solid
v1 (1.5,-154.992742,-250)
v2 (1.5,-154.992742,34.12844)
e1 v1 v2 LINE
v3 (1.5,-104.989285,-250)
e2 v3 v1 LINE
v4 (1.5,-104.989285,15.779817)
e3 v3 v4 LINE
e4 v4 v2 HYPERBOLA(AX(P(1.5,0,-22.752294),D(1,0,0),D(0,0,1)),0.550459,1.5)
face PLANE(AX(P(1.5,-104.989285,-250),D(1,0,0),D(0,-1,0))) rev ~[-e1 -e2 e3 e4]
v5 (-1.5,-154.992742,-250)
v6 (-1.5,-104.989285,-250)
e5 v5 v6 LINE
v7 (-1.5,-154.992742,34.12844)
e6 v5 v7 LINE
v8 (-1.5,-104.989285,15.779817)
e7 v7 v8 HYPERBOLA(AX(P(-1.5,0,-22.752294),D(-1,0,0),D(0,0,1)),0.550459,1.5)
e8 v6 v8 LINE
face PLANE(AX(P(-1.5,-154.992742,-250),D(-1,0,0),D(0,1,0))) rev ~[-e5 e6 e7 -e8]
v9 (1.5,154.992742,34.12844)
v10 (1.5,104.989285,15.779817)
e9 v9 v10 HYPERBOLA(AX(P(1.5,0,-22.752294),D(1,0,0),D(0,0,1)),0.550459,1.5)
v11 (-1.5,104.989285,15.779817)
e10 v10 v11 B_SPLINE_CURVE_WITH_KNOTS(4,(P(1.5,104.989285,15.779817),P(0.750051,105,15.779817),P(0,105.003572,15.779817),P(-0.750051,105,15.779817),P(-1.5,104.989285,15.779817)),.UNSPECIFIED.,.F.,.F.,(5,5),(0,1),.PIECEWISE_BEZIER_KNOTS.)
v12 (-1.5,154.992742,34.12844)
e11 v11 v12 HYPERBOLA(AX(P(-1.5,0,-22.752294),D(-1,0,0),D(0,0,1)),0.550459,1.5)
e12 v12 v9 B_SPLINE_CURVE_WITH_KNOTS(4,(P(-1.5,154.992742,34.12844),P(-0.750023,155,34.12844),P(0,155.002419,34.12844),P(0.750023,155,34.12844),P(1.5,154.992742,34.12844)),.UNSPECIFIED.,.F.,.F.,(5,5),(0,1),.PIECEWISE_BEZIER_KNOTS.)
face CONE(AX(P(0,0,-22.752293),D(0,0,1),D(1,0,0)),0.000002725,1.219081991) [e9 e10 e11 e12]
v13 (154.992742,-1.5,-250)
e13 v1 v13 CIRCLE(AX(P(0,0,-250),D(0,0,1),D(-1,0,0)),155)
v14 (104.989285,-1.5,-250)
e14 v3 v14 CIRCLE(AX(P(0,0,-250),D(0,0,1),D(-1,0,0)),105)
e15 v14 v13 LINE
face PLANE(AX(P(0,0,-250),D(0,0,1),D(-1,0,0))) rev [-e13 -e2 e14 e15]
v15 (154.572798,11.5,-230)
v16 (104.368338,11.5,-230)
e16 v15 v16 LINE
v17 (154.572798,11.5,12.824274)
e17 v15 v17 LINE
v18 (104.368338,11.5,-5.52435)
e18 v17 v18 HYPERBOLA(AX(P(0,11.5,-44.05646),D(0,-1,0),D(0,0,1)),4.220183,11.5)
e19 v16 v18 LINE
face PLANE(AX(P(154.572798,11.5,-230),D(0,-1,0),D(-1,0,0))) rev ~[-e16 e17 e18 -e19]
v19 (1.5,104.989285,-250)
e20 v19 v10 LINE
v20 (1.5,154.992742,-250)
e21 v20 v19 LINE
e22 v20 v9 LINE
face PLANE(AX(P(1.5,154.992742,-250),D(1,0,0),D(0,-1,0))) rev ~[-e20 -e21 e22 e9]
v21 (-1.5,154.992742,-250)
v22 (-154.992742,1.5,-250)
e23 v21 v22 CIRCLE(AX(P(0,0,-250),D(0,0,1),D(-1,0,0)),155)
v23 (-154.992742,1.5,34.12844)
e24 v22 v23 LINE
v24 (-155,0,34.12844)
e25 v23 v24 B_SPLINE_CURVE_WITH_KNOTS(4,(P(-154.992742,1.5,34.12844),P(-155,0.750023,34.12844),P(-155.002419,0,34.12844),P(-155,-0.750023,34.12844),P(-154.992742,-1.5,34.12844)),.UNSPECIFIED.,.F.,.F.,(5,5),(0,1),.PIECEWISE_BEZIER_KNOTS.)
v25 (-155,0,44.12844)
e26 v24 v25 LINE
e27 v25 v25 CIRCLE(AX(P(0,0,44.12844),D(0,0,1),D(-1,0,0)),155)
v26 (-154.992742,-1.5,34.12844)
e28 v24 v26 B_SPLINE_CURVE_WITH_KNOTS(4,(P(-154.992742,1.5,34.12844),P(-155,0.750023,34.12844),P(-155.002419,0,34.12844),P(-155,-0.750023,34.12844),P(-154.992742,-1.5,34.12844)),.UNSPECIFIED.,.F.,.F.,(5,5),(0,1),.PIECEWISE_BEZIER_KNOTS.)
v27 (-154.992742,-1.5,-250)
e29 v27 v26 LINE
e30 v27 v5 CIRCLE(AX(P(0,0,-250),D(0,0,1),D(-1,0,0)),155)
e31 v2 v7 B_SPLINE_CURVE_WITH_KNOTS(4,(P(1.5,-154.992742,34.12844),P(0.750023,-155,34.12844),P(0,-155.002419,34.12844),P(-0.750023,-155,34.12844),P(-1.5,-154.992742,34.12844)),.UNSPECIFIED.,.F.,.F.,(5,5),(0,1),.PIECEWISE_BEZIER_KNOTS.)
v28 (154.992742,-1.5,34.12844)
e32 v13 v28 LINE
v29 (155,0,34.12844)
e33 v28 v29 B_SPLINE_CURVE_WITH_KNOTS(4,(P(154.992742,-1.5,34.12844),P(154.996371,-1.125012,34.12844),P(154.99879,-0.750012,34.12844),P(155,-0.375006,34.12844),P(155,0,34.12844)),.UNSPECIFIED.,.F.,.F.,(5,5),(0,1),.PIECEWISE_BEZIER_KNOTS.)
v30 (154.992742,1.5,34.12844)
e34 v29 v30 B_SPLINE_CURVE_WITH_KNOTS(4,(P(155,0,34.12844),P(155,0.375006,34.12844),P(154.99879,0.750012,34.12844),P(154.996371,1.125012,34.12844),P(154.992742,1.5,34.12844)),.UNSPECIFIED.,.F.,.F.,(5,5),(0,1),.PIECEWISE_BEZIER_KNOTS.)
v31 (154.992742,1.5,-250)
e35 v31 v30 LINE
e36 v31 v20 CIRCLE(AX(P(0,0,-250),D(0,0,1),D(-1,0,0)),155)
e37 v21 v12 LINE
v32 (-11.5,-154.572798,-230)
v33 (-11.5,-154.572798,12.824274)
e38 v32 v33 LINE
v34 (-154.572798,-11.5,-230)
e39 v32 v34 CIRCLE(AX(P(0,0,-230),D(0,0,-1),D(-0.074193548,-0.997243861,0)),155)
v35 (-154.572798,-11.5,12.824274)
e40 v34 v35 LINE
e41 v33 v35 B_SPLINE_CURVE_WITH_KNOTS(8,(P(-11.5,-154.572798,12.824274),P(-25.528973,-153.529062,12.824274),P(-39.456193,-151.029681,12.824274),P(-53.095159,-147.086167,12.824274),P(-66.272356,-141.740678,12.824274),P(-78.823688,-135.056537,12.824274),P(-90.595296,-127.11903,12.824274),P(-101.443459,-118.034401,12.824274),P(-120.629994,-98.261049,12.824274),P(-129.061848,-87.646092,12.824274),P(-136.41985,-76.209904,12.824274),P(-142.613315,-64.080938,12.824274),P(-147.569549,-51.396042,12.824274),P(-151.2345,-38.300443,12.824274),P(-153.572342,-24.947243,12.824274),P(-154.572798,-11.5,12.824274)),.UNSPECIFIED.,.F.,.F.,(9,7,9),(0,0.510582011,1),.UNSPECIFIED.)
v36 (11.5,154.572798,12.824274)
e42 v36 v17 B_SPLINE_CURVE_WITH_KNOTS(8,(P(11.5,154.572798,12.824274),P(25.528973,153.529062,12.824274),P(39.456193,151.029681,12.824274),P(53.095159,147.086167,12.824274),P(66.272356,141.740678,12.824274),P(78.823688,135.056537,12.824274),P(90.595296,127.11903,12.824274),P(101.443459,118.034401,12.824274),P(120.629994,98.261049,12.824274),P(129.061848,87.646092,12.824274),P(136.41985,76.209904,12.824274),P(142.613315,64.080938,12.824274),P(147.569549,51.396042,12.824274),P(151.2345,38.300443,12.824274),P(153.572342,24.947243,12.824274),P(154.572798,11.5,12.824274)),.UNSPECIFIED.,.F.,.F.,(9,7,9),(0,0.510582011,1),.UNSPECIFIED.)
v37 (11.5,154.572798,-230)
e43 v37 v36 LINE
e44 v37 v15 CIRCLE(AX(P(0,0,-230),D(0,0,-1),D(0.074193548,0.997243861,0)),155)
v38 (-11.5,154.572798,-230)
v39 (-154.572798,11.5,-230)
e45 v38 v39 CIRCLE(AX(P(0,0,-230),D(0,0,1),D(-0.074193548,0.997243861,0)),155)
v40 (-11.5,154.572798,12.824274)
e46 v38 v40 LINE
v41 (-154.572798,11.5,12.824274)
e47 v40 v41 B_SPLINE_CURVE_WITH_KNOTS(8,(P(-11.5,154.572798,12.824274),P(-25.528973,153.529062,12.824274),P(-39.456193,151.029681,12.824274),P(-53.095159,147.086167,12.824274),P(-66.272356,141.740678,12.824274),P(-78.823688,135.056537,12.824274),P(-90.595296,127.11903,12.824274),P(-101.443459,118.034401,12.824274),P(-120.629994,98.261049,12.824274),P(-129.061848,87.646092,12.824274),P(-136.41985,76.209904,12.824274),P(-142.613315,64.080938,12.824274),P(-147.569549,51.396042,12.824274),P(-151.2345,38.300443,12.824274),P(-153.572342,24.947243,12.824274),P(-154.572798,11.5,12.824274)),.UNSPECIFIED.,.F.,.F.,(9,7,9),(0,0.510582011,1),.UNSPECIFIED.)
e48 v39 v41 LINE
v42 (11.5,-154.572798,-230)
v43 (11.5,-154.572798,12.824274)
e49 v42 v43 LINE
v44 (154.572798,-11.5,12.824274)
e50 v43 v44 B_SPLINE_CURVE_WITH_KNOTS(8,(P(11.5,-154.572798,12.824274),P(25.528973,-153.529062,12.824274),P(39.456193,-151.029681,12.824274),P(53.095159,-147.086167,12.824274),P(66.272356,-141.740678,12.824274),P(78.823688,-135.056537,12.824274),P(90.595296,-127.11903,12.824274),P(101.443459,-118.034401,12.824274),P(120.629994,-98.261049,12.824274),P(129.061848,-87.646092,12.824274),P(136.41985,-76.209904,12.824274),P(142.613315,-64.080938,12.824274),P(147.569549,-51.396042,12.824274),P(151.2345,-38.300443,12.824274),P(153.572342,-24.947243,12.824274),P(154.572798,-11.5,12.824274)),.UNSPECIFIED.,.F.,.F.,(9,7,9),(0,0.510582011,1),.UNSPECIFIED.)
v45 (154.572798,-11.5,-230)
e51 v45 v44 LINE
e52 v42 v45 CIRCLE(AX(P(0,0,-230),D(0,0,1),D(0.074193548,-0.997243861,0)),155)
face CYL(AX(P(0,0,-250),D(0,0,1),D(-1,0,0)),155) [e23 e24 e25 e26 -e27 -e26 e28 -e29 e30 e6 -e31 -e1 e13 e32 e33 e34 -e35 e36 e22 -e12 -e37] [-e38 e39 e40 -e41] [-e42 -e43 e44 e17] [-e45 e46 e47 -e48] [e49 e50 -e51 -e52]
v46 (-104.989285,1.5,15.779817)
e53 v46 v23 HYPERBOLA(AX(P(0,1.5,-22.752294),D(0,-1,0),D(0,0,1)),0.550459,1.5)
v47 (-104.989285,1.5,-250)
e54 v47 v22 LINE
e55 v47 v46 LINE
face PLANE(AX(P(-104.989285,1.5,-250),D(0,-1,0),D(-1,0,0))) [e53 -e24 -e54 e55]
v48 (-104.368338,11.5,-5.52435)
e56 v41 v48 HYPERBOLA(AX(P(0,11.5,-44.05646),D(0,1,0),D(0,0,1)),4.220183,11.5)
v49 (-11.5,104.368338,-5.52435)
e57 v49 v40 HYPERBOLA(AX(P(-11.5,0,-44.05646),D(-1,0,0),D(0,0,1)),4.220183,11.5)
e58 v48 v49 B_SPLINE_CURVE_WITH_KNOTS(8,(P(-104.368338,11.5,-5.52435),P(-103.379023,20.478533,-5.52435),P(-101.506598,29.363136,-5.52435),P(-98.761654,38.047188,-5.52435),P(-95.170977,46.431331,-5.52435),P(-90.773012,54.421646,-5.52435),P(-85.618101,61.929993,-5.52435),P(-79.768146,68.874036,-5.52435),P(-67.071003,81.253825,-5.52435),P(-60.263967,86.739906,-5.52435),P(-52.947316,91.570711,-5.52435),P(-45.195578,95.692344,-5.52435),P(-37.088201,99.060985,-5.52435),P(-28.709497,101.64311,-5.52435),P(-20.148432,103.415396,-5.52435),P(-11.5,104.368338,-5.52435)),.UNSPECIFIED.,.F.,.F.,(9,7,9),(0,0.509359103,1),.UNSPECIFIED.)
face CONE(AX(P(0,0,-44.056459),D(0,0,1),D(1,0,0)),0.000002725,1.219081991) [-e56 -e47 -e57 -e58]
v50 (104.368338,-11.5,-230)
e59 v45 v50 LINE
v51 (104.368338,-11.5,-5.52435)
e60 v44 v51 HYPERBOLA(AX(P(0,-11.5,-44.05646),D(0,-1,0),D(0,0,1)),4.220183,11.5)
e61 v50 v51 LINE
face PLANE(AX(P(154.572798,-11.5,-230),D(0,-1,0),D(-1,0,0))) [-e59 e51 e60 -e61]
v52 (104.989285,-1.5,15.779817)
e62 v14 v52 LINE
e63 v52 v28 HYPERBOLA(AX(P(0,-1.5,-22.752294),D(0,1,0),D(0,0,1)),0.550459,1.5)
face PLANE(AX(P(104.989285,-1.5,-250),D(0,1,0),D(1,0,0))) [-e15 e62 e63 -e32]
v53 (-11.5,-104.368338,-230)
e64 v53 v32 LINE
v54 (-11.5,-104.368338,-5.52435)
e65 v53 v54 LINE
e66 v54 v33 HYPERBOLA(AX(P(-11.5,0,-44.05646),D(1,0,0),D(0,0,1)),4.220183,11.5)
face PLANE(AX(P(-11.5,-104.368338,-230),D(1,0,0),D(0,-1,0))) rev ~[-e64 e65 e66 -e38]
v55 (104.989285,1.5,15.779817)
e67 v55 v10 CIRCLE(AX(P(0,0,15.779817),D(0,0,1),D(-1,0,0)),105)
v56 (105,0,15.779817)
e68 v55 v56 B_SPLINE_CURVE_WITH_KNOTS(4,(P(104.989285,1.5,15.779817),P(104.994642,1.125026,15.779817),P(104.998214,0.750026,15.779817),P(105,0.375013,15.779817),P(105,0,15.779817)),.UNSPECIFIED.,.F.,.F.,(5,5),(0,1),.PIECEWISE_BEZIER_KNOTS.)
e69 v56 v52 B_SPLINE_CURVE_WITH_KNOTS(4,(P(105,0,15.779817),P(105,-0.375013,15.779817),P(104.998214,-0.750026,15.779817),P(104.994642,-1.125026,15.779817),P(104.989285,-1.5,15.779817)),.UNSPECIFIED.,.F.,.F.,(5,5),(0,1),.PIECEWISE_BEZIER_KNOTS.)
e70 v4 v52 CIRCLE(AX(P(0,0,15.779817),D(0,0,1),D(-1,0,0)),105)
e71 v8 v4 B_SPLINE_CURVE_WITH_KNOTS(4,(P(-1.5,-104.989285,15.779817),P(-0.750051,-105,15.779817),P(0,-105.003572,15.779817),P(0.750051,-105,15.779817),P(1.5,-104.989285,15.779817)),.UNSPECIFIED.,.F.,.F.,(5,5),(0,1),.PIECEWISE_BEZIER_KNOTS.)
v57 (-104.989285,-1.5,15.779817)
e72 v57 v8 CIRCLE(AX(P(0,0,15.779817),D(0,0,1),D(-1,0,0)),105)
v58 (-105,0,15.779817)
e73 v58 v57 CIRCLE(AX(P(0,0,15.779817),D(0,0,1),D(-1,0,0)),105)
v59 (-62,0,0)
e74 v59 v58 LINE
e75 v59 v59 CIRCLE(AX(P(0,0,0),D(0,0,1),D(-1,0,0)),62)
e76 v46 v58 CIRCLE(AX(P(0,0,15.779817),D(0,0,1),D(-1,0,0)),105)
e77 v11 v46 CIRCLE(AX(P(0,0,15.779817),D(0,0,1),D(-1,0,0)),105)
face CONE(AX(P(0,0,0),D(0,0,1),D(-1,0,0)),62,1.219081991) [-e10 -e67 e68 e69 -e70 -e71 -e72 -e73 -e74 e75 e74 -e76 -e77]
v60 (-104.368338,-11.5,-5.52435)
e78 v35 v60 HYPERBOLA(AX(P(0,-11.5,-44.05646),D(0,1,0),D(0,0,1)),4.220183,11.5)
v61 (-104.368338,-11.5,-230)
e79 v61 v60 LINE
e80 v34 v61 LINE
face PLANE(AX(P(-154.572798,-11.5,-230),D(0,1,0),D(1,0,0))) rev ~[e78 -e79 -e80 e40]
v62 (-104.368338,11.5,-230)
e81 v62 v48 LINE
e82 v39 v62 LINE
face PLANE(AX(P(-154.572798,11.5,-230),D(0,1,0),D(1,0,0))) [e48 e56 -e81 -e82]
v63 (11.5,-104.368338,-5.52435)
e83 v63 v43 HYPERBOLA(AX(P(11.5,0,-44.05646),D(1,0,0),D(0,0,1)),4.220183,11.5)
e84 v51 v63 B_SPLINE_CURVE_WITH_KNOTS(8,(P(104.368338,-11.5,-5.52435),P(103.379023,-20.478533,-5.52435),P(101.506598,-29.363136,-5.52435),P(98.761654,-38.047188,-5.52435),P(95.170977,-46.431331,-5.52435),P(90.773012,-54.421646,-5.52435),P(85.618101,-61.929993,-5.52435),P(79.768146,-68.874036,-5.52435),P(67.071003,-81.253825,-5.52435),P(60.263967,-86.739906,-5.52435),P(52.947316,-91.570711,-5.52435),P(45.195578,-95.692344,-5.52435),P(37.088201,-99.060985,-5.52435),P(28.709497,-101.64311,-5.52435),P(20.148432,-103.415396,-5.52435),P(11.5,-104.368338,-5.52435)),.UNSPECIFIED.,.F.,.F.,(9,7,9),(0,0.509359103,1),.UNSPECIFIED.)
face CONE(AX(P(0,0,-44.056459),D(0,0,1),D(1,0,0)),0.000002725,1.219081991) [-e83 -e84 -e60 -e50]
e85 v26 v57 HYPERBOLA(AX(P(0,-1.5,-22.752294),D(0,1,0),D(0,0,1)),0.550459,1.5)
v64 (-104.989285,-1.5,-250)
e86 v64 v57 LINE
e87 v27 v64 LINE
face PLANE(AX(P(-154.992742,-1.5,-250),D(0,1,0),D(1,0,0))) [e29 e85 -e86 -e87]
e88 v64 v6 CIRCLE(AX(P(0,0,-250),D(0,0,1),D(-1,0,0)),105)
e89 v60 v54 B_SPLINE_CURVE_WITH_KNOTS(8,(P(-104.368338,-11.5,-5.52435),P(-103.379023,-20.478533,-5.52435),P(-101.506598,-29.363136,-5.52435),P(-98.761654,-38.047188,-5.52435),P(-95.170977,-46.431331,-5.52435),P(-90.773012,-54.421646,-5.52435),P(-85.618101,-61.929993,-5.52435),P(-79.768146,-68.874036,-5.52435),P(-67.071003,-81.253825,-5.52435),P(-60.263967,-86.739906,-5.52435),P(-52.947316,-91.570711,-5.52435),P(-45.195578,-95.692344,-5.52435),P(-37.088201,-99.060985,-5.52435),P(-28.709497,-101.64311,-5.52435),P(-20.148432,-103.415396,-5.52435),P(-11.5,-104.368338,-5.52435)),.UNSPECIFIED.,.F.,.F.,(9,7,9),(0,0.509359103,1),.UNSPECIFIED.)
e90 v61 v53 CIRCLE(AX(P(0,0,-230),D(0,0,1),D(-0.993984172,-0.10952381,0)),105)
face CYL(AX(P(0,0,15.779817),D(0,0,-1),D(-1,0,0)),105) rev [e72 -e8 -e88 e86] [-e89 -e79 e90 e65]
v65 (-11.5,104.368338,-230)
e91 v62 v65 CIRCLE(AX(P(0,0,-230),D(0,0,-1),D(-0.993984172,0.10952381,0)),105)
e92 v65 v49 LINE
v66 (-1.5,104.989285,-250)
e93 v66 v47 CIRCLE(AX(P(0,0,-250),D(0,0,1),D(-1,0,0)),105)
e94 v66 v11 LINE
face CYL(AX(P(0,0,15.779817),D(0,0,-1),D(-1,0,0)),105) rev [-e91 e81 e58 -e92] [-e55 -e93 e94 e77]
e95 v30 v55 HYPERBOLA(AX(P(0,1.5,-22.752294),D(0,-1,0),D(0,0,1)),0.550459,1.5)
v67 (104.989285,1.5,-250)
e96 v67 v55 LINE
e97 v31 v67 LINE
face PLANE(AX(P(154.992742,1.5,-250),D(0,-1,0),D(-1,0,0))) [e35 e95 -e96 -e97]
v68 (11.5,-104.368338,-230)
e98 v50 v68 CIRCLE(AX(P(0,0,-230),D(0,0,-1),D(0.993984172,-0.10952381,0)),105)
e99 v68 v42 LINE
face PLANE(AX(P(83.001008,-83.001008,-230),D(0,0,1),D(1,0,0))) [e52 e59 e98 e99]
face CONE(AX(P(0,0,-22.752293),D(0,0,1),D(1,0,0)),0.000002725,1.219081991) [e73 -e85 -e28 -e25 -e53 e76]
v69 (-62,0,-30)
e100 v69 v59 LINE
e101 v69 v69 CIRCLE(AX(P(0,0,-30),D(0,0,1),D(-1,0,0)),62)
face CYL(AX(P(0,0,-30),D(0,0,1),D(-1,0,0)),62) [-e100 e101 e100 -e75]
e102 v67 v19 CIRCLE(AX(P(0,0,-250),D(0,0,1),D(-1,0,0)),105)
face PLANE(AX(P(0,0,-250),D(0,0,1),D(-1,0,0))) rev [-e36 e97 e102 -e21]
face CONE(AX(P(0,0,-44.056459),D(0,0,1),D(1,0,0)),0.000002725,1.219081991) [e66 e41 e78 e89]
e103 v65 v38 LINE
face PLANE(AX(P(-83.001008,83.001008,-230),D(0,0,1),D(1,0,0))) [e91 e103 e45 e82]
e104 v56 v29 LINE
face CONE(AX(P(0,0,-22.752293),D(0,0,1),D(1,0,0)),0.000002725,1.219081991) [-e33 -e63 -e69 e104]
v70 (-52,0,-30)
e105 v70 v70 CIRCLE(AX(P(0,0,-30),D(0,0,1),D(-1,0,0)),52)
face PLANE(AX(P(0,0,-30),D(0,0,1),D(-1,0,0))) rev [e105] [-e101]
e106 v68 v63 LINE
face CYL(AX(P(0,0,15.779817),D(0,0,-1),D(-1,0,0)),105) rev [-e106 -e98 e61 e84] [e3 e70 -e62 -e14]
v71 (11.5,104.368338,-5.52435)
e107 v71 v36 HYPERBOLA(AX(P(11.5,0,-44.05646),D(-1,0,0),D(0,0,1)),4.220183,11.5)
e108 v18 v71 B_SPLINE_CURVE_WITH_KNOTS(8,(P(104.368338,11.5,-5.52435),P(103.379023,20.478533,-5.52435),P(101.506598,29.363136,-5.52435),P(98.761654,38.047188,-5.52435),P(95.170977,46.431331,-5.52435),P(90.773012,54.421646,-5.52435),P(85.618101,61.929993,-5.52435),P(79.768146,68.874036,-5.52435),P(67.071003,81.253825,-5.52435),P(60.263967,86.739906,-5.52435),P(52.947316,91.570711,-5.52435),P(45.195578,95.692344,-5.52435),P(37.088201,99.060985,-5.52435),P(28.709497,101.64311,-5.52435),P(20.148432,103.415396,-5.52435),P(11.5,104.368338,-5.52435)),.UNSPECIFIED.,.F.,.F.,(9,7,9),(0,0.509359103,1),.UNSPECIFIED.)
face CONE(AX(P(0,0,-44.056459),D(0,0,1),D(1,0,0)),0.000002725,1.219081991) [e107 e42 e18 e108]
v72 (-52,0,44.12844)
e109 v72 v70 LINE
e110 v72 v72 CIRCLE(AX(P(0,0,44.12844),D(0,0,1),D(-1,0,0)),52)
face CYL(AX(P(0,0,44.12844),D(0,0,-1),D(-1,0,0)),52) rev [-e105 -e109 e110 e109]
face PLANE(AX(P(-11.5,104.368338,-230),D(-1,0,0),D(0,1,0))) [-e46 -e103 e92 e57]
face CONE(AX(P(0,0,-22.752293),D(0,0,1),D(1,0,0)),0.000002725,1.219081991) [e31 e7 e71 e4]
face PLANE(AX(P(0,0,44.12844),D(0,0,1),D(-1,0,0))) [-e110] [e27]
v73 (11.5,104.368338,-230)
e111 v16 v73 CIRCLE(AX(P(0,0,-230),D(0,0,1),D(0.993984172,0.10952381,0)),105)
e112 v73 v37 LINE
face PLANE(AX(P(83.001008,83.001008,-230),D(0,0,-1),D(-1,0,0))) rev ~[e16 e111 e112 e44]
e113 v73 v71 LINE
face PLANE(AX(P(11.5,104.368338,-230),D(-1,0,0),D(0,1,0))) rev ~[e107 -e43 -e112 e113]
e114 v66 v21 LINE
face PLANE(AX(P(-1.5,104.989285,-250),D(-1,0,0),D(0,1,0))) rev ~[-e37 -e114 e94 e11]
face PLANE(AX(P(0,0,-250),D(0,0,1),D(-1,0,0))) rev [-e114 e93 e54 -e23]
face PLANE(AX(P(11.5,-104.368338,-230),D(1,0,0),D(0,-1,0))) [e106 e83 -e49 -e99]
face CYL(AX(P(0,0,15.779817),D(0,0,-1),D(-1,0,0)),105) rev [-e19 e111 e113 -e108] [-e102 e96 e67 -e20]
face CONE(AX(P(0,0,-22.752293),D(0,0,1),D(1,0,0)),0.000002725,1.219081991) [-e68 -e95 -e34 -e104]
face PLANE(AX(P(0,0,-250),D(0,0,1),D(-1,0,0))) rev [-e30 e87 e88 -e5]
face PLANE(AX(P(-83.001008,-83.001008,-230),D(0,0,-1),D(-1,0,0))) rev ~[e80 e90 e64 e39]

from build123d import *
from build123d.topology import SkipClean

# Parameters (mm, degrees)
CUT_EXTRUDE2_REACH = 368.826
CUT_EXTRUDE3_REACH = 388.826
CUT_EXTRUDE3_START = -20


with BuildPart() as part:
    # Sketch1 → Revolve1 (revolve)
    with BuildSketch(Plane(origin=(0, 0, 0), x_dir=(1, 0, 0), z_dir=(0, 1, 0)), mode=Mode.PRIVATE) as revolve1_sk:
        Polygon((52, -44.128440367), (52, 30), (62, 30), (62, 0), (105, -15.779816514), (105, 250), (155, 250), (155, -44.128440367), align=None)
    revolve(revolve1_sk.sketch.rotate(Axis((0, 0, 0), (0, 0, 1)), 180), axis=Axis((0, 0, 0), (0, 0, 1)))

    # Cut-Extrude2: up to this cone (the profile starts outside it)
    with SkipClean():  # the faces are left unmerged after this step: merging them gives an invalid solid
        cut_extrude2_end = Plane(origin=(0, 0, -250), z_dir=(0, 0, 1)).offset(227.247707422) * Cone(2.725e-06, 387.16335, 142.078292578, align=(Align.CENTER, Align.CENTER, Align.MIN), mode=Mode.PRIVATE)
        # Sketch2 → Cut-Extrude2 (cut, up to the surface)
        with BuildSketch(Plane(origin=(0, 0, -250), x_dir=(-1, 0, 0), z_dir=(0, 0, -1)), mode=Mode.PRIVATE) as cut_extrude2_sk1:
            with BuildLine():
                Line((-1.5, 154.992741766), (-1.5, 104.989285168))
                ThreePointArc((-1.5, 104.989285168), (0, 105), (1.5, 104.989285168))
                Line((1.5, 104.989285168), (1.5, 154.992741766))
                ThreePointArc((1.5, 154.992741766), (0, 155), (-1.5, 154.992741766))
            make_face()
        cut_extrude2_tool1 = extrude(cut_extrude2_sk1.sketch, amount=-CUT_EXTRUDE2_REACH, mode=Mode.PRIVATE) - cut_extrude2_end
        add(cut_extrude2_tool1.solids().sort_by_distance((0, 129.997004, -250))[0], mode=Mode.SUBTRACT)
        # Sketch2 → Cut-Extrude2 (cut, up to the surface)
        with BuildSketch(Plane(origin=(0, 0, -250), x_dir=(-1, 0, 0), z_dir=(0, 0, -1)), mode=Mode.PRIVATE) as cut_extrude2_sk2:
            with BuildLine():
                Line((104.989285168, 1.5), (154.992741766, 1.5))
                ThreePointArc((154.992741766, 1.5), (155, 0), (154.992741766, -1.5))
                Line((154.992741766, -1.5), (104.989285168, -1.5))
                ThreePointArc((104.989285168, -1.5), (105, 0), (104.989285168, 1.5))
            make_face()
        cut_extrude2_tool2 = extrude(cut_extrude2_sk2.sketch, amount=-CUT_EXTRUDE2_REACH, mode=Mode.PRIVATE) - cut_extrude2_end
        add(cut_extrude2_tool2.solids().sort_by_distance((-129.997004, 0, -250))[0], mode=Mode.SUBTRACT)
        # Sketch2 → Cut-Extrude2 (cut, up to the surface)
        with BuildSketch(Plane(origin=(0, 0, -250), x_dir=(-1, 0, 0), z_dir=(0, 0, -1)), mode=Mode.PRIVATE) as cut_extrude2_sk3:
            with BuildLine():
                Line((-1.5, -104.989285168), (-1.5, -154.992741766))
                ThreePointArc((-1.5, -154.992741766), (0, -155), (1.5, -154.992741766))
                Line((1.5, -154.992741766), (1.5, -104.989285168))
                ThreePointArc((1.5, -104.989285168), (0, -105), (-1.5, -104.989285168))
            make_face()
        cut_extrude2_tool3 = extrude(cut_extrude2_sk3.sketch, amount=-CUT_EXTRUDE2_REACH, mode=Mode.PRIVATE) - cut_extrude2_end
        add(cut_extrude2_tool3.solids().sort_by_distance((0, -129.997004, -250))[0], mode=Mode.SUBTRACT)
        # Sketch2 → Cut-Extrude2 (cut, up to the surface)
        with BuildSketch(Plane(origin=(0, 0, -250), x_dir=(-1, 0, 0), z_dir=(0, 0, -1)), mode=Mode.PRIVATE) as cut_extrude2_sk4:
            with BuildLine():
                Line((-154.992741766, 1.5), (-104.989285168, 1.5))
                ThreePointArc((-104.989285168, 1.5), (-105, 0), (-104.989285168, -1.5))
                Line((-104.989285168, -1.5), (-154.992741766, -1.5))
                ThreePointArc((-154.992741766, -1.5), (-155, 0), (-154.992741766, 1.5))
            make_face()
        cut_extrude2_tool4 = extrude(cut_extrude2_sk4.sketch, amount=-CUT_EXTRUDE2_REACH, mode=Mode.PRIVATE) - cut_extrude2_end
        add(cut_extrude2_tool4.solids().sort_by_distance((129.997004, 0, -250))[0], mode=Mode.SUBTRACT)

    # Cut-Extrude3: up to this cone (the profile starts outside it)
    with SkipClean():  # the faces are left unmerged after this step: merging them gives an invalid solid
        cut_extrude3_end = Plane(origin=(0, 0, -230), z_dir=(0, 0, 1)).offset(185.943540704) * Cone(2.725e-06, 554.217204308, 203.382459296, align=(Align.CENTER, Align.CENTER, Align.MIN), mode=Mode.PRIVATE)
        # Sketch4 → Cut-Extrude3 (cut, up to the surface)
        with BuildSketch(Plane(origin=(0, 0, -250), x_dir=(-1, 0, 0), z_dir=(0, 0, -1)).offset(CUT_EXTRUDE3_START), mode=Mode.PRIVATE) as cut_extrude3_sk1:
            with BuildLine():
                Line((-154.572798383, -11.5), (-104.368338111, -11.5))
                ThreePointArc((-104.368338111, -11.5), (-74.246212025, -74.246212025), (-11.5, -104.368338111))
                Line((-11.5, -104.368338111), (-11.5, -154.572798383))
                ThreePointArc((-11.5, -154.572798383), (-109.601551084, -109.601551084), (-154.572798383, -11.5))
            make_face()
        cut_extrude3_tool1 = extrude(cut_extrude3_sk1.sketch, amount=-CUT_EXTRUDE3_REACH, mode=Mode.PRIVATE) - cut_extrude3_end
        add(cut_extrude3_tool1.solids().sort_by_distance((85.813767, -85.813767, -230))[0], mode=Mode.SUBTRACT)
        # Sketch4 → Cut-Extrude3 (cut, up to the surface)
        with BuildSketch(Plane(origin=(0, 0, -250), x_dir=(-1, 0, 0), z_dir=(0, 0, -1)).offset(CUT_EXTRUDE3_START), mode=Mode.PRIVATE) as cut_extrude3_sk2:
            with BuildLine():
                Line((11.5, -104.368338111), (11.5, -154.572798383))
                ThreePointArc((11.5, -154.572798383), (109.601551084, -109.601551084), (154.572798383, -11.5))
                Line((154.572798383, -11.5), (104.368338111, -11.5))
                ThreePointArc((104.368338111, -11.5), (74.246212025, -74.246212025), (11.5, -104.368338111))
            make_face()
        cut_extrude3_tool2 = extrude(cut_extrude3_sk2.sketch, amount=-CUT_EXTRUDE3_REACH, mode=Mode.PRIVATE) - cut_extrude3_end
        add(cut_extrude3_tool2.solids().sort_by_distance((-85.813767, -85.813767, -230))[0], mode=Mode.SUBTRACT)
        # Sketch4 → Cut-Extrude3 (cut, up to the surface)
        with BuildSketch(Plane(origin=(0, 0, -250), x_dir=(-1, 0, 0), z_dir=(0, 0, -1)).offset(CUT_EXTRUDE3_START), mode=Mode.PRIVATE) as cut_extrude3_sk3:
            with BuildLine():
                Line((154.572798383, 11.5), (104.368338111, 11.5))
                ThreePointArc((104.368338111, 11.5), (74.246212025, 74.246212025), (11.5, 104.368338111))
                Line((11.5, 104.368338111), (11.5, 154.572798383))
                ThreePointArc((11.5, 154.572798383), (109.601551084, 109.601551084), (154.572798383, 11.5))
            make_face()
        cut_extrude3_tool3 = extrude(cut_extrude3_sk3.sketch, amount=-CUT_EXTRUDE3_REACH, mode=Mode.PRIVATE) - cut_extrude3_end
        add(cut_extrude3_tool3.solids().sort_by_distance((-85.813767, 85.813767, -230))[0], mode=Mode.SUBTRACT)
        # Sketch4 → Cut-Extrude3 (cut, up to the surface)
        with BuildSketch(Plane(origin=(0, 0, -250), x_dir=(-1, 0, 0), z_dir=(0, 0, -1)).offset(CUT_EXTRUDE3_START), mode=Mode.PRIVATE) as cut_extrude3_sk4:
            with BuildLine():
                Line((-11.5, 104.368338111), (-11.5, 154.572798383))
                ThreePointArc((-11.5, 154.572798383), (-109.601551084, 109.601551084), (-154.572798383, 11.5))
                Line((-154.572798383, 11.5), (-104.368338111, 11.5))
                ThreePointArc((-104.368338111, 11.5), (-74.246212025, 74.246212025), (-11.5, 104.368338111))
            make_face()
        cut_extrude3_tool4 = extrude(cut_extrude3_sk4.sketch, amount=-CUT_EXTRUDE3_REACH, mode=Mode.PRIVATE) - cut_extrude3_end
        add(cut_extrude3_tool4.solids().sort_by_distance((85.813767, 85.813767, -230))[0], mode=Mode.SUBTRACT)


solid = part.part
